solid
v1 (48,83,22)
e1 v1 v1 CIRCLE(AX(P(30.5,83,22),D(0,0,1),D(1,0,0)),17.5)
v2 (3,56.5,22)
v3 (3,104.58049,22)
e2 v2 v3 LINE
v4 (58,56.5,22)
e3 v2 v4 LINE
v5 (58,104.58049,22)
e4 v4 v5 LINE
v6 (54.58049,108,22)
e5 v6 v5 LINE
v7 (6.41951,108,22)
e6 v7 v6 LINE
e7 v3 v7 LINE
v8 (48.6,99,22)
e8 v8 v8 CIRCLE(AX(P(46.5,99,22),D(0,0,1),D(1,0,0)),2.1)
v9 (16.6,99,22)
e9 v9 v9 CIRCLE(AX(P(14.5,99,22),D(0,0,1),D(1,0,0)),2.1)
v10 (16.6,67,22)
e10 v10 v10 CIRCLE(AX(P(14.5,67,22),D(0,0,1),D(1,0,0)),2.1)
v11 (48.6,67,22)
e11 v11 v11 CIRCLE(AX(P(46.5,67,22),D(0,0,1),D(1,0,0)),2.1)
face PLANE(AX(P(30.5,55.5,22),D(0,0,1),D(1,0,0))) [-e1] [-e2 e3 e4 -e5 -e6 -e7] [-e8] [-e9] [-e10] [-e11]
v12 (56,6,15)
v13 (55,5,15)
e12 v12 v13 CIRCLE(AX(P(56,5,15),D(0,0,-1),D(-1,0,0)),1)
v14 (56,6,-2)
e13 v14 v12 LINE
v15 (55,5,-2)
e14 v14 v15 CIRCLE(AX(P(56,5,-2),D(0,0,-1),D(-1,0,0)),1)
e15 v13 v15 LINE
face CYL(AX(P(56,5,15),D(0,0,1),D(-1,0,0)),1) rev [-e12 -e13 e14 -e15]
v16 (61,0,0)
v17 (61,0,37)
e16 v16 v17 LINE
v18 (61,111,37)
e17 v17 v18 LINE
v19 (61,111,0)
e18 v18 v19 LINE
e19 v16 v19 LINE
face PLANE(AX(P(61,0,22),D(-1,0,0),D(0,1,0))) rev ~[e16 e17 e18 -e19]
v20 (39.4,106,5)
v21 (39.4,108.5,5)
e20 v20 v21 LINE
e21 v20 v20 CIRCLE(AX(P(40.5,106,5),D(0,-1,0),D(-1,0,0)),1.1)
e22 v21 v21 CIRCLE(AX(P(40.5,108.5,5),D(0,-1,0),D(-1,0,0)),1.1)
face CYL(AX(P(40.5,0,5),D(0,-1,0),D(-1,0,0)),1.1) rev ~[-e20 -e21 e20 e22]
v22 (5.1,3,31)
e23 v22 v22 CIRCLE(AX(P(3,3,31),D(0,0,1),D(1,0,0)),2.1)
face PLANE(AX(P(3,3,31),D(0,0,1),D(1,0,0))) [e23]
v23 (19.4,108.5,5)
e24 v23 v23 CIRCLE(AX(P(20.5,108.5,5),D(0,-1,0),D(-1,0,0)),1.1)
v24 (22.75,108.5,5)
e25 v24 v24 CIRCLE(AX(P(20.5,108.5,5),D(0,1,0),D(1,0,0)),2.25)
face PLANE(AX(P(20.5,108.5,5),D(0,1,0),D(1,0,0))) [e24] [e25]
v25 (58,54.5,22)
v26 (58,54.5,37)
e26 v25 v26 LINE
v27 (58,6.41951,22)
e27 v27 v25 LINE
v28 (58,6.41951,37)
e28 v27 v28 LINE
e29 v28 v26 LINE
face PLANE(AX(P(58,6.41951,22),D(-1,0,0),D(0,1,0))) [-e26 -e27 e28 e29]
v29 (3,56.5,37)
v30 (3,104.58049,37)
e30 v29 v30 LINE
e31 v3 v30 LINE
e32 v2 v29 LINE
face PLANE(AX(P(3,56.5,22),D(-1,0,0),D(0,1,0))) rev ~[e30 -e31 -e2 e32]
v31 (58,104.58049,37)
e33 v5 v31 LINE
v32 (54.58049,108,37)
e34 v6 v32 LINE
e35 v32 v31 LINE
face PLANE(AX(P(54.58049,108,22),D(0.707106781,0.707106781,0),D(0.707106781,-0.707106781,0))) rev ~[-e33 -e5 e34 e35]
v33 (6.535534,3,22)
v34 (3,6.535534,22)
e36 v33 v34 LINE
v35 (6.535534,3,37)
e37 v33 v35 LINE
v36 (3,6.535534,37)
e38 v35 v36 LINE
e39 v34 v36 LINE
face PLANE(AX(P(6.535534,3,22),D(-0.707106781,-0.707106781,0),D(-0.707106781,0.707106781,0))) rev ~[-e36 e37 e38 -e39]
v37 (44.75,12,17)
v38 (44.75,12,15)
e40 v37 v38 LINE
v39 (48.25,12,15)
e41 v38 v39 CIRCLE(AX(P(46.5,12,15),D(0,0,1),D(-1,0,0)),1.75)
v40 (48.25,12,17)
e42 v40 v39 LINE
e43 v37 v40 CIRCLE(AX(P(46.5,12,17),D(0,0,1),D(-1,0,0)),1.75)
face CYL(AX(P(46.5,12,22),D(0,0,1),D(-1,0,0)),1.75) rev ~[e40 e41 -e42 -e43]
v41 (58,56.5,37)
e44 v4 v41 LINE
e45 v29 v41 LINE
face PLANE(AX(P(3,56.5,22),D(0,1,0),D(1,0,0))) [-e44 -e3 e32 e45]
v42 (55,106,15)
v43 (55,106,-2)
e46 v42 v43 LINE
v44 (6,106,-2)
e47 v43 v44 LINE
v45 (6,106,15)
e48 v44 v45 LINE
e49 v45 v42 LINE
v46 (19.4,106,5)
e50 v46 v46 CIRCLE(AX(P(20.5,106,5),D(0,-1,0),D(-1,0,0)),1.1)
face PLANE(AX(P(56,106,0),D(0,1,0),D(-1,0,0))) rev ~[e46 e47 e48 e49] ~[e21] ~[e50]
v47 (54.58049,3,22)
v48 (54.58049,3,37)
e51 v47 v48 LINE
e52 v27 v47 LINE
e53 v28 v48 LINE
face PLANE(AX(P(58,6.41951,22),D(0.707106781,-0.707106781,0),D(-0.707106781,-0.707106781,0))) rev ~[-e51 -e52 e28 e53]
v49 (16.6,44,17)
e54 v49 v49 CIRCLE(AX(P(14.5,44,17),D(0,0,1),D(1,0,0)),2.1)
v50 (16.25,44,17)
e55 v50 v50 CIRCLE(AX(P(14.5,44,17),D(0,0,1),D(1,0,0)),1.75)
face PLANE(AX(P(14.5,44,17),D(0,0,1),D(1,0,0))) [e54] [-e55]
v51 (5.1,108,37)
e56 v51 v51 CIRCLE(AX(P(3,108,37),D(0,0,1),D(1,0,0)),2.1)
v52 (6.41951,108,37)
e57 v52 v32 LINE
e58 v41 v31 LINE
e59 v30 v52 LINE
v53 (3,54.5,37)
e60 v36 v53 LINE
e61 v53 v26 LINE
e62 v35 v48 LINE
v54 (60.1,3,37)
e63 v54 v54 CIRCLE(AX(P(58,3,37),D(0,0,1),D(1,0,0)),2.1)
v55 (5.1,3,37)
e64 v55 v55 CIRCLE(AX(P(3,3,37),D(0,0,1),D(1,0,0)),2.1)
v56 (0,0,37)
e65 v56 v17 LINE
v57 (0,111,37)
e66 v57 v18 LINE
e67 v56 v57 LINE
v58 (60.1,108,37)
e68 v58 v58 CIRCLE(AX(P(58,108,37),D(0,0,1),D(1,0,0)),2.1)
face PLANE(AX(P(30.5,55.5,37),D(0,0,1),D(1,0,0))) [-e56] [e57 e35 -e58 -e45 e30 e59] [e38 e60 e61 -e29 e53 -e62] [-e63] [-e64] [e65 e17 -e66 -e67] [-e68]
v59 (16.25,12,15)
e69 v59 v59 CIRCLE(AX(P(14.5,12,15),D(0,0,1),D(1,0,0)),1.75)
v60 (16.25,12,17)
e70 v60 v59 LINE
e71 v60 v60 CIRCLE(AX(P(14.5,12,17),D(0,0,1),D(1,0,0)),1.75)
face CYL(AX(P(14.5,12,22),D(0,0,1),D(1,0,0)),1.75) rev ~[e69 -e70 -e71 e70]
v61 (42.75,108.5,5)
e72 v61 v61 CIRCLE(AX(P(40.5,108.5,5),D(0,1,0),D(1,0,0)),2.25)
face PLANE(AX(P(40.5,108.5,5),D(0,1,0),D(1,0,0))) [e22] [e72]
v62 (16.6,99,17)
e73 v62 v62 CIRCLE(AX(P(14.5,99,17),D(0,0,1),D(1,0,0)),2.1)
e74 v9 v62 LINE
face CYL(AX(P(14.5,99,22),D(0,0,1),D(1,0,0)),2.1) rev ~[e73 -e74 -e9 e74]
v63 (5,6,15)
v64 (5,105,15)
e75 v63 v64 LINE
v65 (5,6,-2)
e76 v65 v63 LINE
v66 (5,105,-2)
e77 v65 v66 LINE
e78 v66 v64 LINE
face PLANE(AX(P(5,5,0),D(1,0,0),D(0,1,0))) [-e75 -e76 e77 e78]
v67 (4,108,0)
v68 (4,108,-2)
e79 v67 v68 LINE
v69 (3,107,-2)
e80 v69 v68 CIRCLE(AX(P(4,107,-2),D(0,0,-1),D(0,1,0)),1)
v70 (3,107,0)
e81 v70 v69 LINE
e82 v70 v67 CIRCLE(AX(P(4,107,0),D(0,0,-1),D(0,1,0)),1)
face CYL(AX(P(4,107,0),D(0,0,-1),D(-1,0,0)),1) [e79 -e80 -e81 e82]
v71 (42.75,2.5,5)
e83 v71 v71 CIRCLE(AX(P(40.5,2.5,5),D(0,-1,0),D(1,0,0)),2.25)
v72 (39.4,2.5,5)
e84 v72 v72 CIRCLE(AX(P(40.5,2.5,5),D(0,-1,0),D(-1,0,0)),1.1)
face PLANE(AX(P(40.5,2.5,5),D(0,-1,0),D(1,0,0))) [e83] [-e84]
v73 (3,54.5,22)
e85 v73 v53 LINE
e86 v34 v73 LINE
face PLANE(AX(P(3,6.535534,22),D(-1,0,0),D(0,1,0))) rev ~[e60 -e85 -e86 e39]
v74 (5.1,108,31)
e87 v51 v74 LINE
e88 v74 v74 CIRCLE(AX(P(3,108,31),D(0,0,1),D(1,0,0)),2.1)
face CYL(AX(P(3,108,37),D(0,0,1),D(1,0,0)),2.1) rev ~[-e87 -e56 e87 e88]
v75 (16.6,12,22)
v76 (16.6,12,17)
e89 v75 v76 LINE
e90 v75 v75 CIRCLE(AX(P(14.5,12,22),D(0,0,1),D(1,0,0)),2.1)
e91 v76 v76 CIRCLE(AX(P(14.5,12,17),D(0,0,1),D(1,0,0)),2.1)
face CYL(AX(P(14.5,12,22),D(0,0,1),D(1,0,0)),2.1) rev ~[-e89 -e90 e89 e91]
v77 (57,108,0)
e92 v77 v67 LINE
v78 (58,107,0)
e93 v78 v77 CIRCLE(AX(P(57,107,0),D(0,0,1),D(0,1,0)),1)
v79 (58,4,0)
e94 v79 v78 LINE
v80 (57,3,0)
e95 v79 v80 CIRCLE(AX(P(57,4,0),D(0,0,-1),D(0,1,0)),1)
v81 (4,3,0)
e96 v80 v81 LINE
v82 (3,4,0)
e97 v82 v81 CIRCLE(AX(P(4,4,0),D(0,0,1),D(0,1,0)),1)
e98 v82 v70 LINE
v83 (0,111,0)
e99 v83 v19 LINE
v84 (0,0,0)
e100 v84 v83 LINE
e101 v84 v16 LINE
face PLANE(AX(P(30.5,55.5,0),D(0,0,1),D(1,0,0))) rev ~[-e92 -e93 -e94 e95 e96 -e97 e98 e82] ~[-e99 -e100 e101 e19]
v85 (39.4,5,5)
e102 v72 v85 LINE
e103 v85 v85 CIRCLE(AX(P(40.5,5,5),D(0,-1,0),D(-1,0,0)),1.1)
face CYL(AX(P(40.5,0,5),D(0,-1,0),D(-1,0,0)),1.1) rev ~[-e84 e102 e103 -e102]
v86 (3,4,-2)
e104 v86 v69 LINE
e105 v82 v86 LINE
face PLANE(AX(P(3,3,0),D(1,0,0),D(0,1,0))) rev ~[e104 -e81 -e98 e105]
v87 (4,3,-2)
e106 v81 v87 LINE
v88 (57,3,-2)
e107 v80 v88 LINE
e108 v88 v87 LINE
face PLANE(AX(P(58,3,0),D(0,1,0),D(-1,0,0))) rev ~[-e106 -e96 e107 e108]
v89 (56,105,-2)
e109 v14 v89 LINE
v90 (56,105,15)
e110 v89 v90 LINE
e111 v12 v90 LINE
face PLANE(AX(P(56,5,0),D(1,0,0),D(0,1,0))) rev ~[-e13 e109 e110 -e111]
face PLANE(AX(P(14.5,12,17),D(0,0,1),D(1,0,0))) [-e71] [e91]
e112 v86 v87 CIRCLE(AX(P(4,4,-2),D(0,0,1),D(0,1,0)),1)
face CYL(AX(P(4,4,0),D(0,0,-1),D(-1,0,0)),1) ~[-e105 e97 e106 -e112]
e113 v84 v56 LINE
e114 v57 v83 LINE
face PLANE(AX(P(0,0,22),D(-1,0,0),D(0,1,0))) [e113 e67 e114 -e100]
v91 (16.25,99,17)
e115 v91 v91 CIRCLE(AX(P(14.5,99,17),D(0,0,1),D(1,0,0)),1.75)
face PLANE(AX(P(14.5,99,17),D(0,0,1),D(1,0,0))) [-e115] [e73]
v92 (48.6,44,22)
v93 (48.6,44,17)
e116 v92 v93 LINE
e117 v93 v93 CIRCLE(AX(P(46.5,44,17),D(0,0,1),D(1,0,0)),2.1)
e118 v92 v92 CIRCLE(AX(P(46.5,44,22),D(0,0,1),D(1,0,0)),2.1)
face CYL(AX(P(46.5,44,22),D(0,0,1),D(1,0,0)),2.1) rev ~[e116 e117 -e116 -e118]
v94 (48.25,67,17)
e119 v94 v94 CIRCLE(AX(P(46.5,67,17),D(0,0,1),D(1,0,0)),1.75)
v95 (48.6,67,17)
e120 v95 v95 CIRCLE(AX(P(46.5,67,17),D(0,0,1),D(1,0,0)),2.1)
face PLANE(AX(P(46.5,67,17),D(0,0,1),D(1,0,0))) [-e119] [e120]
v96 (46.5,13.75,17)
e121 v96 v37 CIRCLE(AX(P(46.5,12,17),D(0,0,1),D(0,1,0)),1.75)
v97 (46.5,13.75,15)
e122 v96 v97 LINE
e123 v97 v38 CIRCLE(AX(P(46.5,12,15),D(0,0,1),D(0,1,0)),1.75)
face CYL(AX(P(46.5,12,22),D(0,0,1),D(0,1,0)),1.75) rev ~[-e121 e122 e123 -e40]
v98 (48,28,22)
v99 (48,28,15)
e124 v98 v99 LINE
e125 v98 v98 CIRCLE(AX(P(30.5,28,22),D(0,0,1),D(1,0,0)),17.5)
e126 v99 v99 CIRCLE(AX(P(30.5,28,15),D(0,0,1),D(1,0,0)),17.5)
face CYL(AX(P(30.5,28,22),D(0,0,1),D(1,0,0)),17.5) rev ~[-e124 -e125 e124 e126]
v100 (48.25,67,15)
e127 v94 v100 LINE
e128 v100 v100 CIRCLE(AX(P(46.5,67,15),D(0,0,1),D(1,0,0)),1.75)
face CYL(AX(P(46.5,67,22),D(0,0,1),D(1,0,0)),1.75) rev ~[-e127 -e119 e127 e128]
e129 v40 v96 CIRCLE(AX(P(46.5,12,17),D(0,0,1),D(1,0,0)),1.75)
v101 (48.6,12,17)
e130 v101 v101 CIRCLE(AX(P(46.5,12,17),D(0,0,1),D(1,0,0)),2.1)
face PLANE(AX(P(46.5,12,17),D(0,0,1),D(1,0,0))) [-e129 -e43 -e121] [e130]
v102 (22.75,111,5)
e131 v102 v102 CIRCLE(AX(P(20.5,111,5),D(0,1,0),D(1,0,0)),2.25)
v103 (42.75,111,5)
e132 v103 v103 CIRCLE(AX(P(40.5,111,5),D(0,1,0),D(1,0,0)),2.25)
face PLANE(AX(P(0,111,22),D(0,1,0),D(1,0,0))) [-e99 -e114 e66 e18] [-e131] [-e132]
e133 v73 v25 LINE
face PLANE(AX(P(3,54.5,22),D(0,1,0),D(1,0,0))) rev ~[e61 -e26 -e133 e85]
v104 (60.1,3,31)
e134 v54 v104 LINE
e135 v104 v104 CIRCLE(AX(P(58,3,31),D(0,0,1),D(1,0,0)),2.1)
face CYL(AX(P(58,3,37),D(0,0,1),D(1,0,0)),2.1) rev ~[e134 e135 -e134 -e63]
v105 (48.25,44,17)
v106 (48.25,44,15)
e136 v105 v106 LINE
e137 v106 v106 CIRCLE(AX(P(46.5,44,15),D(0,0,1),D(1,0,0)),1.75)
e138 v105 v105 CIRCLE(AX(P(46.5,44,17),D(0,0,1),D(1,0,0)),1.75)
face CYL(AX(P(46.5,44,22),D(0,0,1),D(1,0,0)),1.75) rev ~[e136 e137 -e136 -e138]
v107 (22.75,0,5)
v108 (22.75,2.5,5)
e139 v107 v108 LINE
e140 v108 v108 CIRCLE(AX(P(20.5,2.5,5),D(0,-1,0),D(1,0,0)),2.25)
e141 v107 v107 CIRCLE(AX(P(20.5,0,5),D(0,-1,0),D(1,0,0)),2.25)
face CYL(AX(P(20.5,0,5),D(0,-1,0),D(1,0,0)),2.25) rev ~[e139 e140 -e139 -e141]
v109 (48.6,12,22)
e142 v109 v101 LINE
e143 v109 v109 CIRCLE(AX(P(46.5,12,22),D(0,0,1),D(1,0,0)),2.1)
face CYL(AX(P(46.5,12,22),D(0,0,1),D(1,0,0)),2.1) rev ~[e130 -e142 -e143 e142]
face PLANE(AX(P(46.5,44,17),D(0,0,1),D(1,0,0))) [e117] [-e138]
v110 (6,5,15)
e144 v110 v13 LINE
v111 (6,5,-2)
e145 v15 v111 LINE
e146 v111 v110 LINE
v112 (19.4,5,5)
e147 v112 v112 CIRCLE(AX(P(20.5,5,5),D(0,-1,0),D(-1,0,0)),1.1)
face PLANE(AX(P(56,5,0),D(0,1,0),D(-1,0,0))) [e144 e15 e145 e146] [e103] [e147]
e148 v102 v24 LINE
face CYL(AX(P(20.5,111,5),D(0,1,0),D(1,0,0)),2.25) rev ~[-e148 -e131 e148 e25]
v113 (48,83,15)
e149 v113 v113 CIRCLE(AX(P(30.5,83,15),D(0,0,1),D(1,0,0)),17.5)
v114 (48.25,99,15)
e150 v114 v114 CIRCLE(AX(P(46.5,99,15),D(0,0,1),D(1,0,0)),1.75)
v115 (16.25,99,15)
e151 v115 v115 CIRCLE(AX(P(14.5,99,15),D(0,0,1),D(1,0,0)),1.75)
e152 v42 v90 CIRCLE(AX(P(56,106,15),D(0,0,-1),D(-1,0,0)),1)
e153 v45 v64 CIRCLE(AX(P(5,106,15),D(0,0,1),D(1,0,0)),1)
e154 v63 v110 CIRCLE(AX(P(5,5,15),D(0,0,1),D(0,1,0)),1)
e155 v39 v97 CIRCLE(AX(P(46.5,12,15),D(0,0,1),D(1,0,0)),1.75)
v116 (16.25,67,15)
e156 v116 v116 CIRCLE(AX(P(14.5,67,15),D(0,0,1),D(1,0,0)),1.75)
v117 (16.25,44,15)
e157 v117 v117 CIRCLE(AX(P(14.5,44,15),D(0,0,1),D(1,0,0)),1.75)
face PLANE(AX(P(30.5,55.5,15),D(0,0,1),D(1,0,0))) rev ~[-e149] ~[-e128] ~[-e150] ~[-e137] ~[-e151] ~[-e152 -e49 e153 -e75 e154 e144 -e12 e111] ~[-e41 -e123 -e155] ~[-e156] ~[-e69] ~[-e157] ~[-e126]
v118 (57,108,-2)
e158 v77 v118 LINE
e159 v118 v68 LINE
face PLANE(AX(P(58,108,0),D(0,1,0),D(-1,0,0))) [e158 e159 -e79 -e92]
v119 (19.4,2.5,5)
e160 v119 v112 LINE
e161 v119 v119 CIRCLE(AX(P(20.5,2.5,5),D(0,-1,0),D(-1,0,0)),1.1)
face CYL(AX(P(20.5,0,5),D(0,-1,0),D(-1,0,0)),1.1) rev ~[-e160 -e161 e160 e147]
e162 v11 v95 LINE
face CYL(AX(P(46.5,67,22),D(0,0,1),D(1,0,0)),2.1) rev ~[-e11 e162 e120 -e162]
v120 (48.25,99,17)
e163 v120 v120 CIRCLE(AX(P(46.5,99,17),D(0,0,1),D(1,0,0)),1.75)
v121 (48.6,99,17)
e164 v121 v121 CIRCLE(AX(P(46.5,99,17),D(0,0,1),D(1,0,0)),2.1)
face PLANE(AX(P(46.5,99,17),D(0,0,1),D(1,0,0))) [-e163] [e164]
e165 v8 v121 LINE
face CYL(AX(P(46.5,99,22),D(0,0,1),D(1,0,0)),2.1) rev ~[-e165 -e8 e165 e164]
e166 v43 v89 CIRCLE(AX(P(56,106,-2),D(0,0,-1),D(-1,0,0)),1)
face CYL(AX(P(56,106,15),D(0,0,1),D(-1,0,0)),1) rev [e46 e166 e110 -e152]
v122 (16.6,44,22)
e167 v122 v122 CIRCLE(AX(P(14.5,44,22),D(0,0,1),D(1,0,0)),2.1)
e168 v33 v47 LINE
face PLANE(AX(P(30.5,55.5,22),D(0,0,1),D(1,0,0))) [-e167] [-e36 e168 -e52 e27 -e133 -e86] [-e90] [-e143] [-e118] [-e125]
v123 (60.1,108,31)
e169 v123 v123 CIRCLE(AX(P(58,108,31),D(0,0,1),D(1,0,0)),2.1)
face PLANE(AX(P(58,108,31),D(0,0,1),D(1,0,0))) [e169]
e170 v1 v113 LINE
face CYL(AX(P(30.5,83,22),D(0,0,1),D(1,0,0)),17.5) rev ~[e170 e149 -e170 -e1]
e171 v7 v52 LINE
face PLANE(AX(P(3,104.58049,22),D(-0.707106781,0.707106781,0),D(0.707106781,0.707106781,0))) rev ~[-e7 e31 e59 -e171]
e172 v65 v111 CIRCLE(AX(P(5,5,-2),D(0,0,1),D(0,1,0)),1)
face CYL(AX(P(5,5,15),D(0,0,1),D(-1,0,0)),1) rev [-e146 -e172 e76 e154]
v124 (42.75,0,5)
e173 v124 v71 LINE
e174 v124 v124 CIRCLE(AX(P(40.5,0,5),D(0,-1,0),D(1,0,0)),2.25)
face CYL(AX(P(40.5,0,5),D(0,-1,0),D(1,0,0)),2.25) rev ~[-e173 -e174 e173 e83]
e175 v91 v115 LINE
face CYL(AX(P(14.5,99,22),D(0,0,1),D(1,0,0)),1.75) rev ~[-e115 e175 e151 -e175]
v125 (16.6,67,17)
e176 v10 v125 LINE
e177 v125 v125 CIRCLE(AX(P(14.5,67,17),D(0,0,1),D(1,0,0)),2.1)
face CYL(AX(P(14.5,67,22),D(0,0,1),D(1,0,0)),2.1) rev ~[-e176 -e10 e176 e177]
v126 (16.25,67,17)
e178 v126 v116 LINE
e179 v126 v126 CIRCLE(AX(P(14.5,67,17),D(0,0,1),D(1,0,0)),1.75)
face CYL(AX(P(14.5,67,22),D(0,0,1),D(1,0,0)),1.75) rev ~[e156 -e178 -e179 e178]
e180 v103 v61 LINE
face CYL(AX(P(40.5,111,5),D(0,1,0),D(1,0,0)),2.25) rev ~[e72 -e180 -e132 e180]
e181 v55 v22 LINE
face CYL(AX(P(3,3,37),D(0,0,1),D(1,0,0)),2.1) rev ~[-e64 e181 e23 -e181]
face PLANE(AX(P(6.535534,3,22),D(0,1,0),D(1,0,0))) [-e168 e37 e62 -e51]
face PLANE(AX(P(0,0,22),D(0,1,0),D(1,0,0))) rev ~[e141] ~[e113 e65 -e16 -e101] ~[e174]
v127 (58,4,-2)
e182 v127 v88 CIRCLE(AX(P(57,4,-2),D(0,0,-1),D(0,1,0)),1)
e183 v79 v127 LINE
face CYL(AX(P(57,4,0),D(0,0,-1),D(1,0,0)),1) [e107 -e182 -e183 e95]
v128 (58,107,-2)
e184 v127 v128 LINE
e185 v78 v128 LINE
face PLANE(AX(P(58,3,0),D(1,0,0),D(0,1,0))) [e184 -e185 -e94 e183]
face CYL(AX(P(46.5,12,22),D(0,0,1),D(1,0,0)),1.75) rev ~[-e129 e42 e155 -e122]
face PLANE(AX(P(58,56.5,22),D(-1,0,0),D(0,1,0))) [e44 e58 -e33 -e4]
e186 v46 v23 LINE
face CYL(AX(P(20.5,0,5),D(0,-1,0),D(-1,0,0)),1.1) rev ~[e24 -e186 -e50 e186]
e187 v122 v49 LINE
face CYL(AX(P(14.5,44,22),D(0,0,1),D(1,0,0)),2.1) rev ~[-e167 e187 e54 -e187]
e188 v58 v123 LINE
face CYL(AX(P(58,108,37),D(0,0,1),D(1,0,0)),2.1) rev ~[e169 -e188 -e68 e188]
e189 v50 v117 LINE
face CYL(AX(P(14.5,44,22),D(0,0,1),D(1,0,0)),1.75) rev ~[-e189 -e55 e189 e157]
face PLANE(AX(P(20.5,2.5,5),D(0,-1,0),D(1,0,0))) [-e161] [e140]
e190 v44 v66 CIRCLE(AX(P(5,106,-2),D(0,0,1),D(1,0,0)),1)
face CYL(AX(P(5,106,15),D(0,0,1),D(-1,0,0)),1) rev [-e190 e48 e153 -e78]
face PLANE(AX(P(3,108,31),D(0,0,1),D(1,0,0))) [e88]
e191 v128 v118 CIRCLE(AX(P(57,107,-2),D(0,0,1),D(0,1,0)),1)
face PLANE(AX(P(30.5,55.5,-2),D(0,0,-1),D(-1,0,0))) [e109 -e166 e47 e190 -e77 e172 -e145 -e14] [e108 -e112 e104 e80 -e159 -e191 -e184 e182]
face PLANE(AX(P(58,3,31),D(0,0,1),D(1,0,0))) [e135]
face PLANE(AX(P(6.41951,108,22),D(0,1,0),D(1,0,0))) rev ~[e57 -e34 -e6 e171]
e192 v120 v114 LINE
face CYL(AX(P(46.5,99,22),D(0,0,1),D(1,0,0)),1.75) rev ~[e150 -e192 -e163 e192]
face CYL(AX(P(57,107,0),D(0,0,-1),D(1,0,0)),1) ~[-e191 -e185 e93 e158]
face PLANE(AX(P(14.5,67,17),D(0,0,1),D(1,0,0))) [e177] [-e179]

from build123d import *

# Parameters (mm, degrees)
SKETCH1_W           = 61
SKETCH1_H           = 111
SKETCH1_W_2         = 51
SKETCH1_H_2         = 101
BOSS_EXTRUDE1_DEPTH = 15
SKETCH2_W           = 61
SKETCH2_H           = 111
BOSS_EXTRUDE2_DEPTH = 7
SKETCH3_R           = 17.5
SKETCH3_R_2         = 1.75
CUT_EXTRUDE1_DEPTH  = 23
SKETCH4_R           = 2.1
CUT_EXTRUDE2_DEPTH  = 5
SKETCH5_W           = 55
SKETCH5_H           = 105
SKETCH5_W_2         = 51
SKETCH5_H_2         = 101
BOSS_EXTRUDE3_DEPTH = 2
FILLET1_R           = 1
SKETCH6_R           = 1.1
CUT_EXTRUDE3_DEPTH  = 112
SKETCH7_R           = 2.25
CUT_EXTRUDE4_DEPTH  = 2.5
SKETCH8_R           = 2.25
CUT_EXTRUDE5_DEPTH  = 2.5
CUT_EXTRUDE6_START  = -17
SKETCH9_R           = 1
CUT_EXTRUDE6_DEPTH  = 17
SKETCH10_W          = 61
SKETCH10_H          = 111
SKETCH10_W_2        = 55
SKETCH10_H_2        = 105
SKETCH10_H_3        = 2
BOSS_EXTRUDE4_DEPTH = 15
SKETCH11_R          = 2.1
CUT_EXTRUDE7_DEPTH  = 6


with BuildPart() as part:
    # Sketch1 → Boss-Extrude1 (new body)
    with BuildSketch(Plane.XY):
        with Locations((30.5, 55.5)):
            Rectangle(SKETCH1_W, SKETCH1_H)
        with Locations((30.5, 55.5)):
            Rectangle(SKETCH1_W_2, SKETCH1_H_2, mode=Mode.SUBTRACT)
    extrude(amount=BOSS_EXTRUDE1_DEPTH)

    # Sketch2 → Boss-Extrude2 (add)
    with BuildSketch(Plane.XY.offset(15)):
        with Locations((30.5, 55.5)):
            Rectangle(SKETCH2_W, SKETCH2_H)
    extrude(amount=BOSS_EXTRUDE2_DEPTH)

    # Sketch3 → Cut-Extrude1 (cut, through all)
    with BuildSketch(Plane.XY.offset(22)):
        with Locations((30.5, 83)):
            Circle(SKETCH3_R)
        with Locations((30.5, 28)):
            Circle(SKETCH3_R)
        with BuildLine():
            ThreePointArc((46.5, 13.75), (45.262563133, 13.237436867), (44.75, 12))
            Line((44.75, 12), (46.5, 12))
            Line((46.5, 12), (46.5, 13.75))
        make_face()
        with BuildLine():
            Line((46.5, 12), (44.75, 12))
            ThreePointArc((44.75, 12), (46.5, 10.25), (48.25, 12))
            ThreePointArc((48.25, 12), (47.737436867, 13.237436867), (46.5, 13.75))
            Line((46.5, 13.75), (46.5, 12))
        make_face()
        with Locations((46.5, 99)):
            Circle(SKETCH3_R_2)
        with Locations((14.5, 99)):
            Circle(SKETCH3_R_2)
        with Locations((14.5, 67)):
            Circle(SKETCH3_R_2)
        with Locations((46.5, 67)):
            Circle(SKETCH3_R_2)
        with Locations((46.5, 44)):
            Circle(SKETCH3_R_2)
        with Locations((14.5, 44)):
            Circle(SKETCH3_R_2)
        with Locations((14.5, 12)):
            Circle(SKETCH3_R_2)
    extrude(amount=-CUT_EXTRUDE1_DEPTH, mode=Mode.SUBTRACT)

    # Sketch4 → Cut-Extrude2 (cut)
    with BuildSketch(Plane.XY.offset(22)):
        with Locations((14.5, 99)):
            Circle(SKETCH4_R)
        with Locations((46.5, 99)):
            Circle(SKETCH4_R)
        with Locations((46.5, 67)):
            Circle(SKETCH4_R)
        with Locations((46.5, 44)):
            Circle(SKETCH4_R)
        with Locations((14.5, 67)):
            Circle(SKETCH4_R)
        with Locations((14.5, 44)):
            Circle(SKETCH4_R)
        with Locations((14.5, 12)):
            Circle(SKETCH4_R)
        with Locations((46.5, 12)):
            Circle(SKETCH4_R)
    extrude(amount=-CUT_EXTRUDE2_DEPTH, mode=Mode.SUBTRACT)

    # Sketch5 → Boss-Extrude3 (add)
    with BuildSketch(Plane(origin=(0, 0, 0), x_dir=(-1, 0, 0), z_dir=(0, 0, -1))):
        with Locations((-30.5, 55.5)):
            Rectangle(SKETCH5_W, SKETCH5_H)
        with Locations((-30.5, 55.5)):
            Rectangle(SKETCH5_W_2, SKETCH5_H_2, mode=Mode.SUBTRACT)
    extrude(amount=BOSS_EXTRUDE3_DEPTH)

    # Fillet1
    fillet1_edges = [part.edges().sort_by_distance(p)[0] for p in [
        (58, 3, -1),
        (3, 3, -1),
        (3, 108, -1),
        (58, 108, -1),
    ]]
    fillet(fillet1_edges, radius=FILLET1_R)

    # Sketch6 → Cut-Extrude3 (cut, through all)
    with BuildSketch(Plane(origin=(0, 0, 0), x_dir=(-1, 0, 0), z_dir=(0, -1, 0))):
        with Locations((-20.5, -5)):
            Circle(SKETCH6_R)
        with Locations((-40.5, -5)):
            Circle(SKETCH6_R)
    extrude(amount=-CUT_EXTRUDE3_DEPTH, mode=Mode.SUBTRACT)

    # Sketch7 → Cut-Extrude4 (cut)
    with BuildSketch(Plane.XZ):
        with Locations((20.5, 5)):
            Circle(SKETCH7_R)
        with Locations((40.5, 5)):
            Circle(SKETCH7_R)
    extrude(amount=-CUT_EXTRUDE4_DEPTH, mode=Mode.SUBTRACT)

    # Sketch8 → Cut-Extrude5 (cut)
    with BuildSketch(Plane(origin=(0, 111, 0), x_dir=(1, 0, 0), z_dir=(0, 1, 0))):
        with Locations((40.5, -5)):
            Circle(SKETCH8_R)
        with Locations((20.5, -5)):
            Circle(SKETCH8_R)
    extrude(amount=-CUT_EXTRUDE5_DEPTH, mode=Mode.SUBTRACT)

    # Sketch9 → Cut-Extrude6 (cut)
    with BuildSketch(Plane(origin=(0, 0, -2), x_dir=(-1, 0, 0), z_dir=(0, 0, -1)).offset(CUT_EXTRUDE6_START)):
        with Locations((-56, 106)):
            Circle(SKETCH9_R)
        with Locations((-5, 106)):
            Circle(SKETCH9_R)
        with Locations((-5, 5)):
            Circle(SKETCH9_R)
        with Locations((-56, 5)):
            Circle(SKETCH9_R)
    extrude(amount=CUT_EXTRUDE6_DEPTH, mode=Mode.SUBTRACT)

    # Sketch10 → Boss-Extrude4 (add)
    with BuildSketch(Plane.XY.offset(22)):
        with Locations((30.5, 55.5)):
            Rectangle(SKETCH10_W, SKETCH10_H)
        with Locations((30.5, 55.5)):
            Rectangle(SKETCH10_W_2, SKETCH10_H_2, mode=Mode.SUBTRACT)
        Polygon((3, 3), (6.535533906, 3), (3, 6.535533906), align=None)
        Polygon((3, 108), (3, 104.58049017), (6.41950983, 108), align=None)
        Polygon((54.58049017, 108), (58, 104.58049017), (58, 108), align=None)
        Polygon((58, 6.41950983), (54.58049017, 3), (58, 3), align=None)
        with Locations((30.5, 55.5)):
            Rectangle(SKETCH10_W_2, SKETCH10_H_3)
    extrude(amount=BOSS_EXTRUDE4_DEPTH)

    # Sketch11 → Cut-Extrude7 (cut)
    with BuildSketch(Plane.XY.offset(37)):
        with Locations((3, 3)):
            Circle(SKETCH11_R)
        with Locations((3, 108)):
            Circle(SKETCH11_R)
        with Locations((58, 108)):
            Circle(SKETCH11_R)
        with Locations((58, 3)):
            Circle(SKETCH11_R)
    extrude(amount=-CUT_EXTRUDE7_DEPTH, mode=Mode.SUBTRACT)


solid = part.part
